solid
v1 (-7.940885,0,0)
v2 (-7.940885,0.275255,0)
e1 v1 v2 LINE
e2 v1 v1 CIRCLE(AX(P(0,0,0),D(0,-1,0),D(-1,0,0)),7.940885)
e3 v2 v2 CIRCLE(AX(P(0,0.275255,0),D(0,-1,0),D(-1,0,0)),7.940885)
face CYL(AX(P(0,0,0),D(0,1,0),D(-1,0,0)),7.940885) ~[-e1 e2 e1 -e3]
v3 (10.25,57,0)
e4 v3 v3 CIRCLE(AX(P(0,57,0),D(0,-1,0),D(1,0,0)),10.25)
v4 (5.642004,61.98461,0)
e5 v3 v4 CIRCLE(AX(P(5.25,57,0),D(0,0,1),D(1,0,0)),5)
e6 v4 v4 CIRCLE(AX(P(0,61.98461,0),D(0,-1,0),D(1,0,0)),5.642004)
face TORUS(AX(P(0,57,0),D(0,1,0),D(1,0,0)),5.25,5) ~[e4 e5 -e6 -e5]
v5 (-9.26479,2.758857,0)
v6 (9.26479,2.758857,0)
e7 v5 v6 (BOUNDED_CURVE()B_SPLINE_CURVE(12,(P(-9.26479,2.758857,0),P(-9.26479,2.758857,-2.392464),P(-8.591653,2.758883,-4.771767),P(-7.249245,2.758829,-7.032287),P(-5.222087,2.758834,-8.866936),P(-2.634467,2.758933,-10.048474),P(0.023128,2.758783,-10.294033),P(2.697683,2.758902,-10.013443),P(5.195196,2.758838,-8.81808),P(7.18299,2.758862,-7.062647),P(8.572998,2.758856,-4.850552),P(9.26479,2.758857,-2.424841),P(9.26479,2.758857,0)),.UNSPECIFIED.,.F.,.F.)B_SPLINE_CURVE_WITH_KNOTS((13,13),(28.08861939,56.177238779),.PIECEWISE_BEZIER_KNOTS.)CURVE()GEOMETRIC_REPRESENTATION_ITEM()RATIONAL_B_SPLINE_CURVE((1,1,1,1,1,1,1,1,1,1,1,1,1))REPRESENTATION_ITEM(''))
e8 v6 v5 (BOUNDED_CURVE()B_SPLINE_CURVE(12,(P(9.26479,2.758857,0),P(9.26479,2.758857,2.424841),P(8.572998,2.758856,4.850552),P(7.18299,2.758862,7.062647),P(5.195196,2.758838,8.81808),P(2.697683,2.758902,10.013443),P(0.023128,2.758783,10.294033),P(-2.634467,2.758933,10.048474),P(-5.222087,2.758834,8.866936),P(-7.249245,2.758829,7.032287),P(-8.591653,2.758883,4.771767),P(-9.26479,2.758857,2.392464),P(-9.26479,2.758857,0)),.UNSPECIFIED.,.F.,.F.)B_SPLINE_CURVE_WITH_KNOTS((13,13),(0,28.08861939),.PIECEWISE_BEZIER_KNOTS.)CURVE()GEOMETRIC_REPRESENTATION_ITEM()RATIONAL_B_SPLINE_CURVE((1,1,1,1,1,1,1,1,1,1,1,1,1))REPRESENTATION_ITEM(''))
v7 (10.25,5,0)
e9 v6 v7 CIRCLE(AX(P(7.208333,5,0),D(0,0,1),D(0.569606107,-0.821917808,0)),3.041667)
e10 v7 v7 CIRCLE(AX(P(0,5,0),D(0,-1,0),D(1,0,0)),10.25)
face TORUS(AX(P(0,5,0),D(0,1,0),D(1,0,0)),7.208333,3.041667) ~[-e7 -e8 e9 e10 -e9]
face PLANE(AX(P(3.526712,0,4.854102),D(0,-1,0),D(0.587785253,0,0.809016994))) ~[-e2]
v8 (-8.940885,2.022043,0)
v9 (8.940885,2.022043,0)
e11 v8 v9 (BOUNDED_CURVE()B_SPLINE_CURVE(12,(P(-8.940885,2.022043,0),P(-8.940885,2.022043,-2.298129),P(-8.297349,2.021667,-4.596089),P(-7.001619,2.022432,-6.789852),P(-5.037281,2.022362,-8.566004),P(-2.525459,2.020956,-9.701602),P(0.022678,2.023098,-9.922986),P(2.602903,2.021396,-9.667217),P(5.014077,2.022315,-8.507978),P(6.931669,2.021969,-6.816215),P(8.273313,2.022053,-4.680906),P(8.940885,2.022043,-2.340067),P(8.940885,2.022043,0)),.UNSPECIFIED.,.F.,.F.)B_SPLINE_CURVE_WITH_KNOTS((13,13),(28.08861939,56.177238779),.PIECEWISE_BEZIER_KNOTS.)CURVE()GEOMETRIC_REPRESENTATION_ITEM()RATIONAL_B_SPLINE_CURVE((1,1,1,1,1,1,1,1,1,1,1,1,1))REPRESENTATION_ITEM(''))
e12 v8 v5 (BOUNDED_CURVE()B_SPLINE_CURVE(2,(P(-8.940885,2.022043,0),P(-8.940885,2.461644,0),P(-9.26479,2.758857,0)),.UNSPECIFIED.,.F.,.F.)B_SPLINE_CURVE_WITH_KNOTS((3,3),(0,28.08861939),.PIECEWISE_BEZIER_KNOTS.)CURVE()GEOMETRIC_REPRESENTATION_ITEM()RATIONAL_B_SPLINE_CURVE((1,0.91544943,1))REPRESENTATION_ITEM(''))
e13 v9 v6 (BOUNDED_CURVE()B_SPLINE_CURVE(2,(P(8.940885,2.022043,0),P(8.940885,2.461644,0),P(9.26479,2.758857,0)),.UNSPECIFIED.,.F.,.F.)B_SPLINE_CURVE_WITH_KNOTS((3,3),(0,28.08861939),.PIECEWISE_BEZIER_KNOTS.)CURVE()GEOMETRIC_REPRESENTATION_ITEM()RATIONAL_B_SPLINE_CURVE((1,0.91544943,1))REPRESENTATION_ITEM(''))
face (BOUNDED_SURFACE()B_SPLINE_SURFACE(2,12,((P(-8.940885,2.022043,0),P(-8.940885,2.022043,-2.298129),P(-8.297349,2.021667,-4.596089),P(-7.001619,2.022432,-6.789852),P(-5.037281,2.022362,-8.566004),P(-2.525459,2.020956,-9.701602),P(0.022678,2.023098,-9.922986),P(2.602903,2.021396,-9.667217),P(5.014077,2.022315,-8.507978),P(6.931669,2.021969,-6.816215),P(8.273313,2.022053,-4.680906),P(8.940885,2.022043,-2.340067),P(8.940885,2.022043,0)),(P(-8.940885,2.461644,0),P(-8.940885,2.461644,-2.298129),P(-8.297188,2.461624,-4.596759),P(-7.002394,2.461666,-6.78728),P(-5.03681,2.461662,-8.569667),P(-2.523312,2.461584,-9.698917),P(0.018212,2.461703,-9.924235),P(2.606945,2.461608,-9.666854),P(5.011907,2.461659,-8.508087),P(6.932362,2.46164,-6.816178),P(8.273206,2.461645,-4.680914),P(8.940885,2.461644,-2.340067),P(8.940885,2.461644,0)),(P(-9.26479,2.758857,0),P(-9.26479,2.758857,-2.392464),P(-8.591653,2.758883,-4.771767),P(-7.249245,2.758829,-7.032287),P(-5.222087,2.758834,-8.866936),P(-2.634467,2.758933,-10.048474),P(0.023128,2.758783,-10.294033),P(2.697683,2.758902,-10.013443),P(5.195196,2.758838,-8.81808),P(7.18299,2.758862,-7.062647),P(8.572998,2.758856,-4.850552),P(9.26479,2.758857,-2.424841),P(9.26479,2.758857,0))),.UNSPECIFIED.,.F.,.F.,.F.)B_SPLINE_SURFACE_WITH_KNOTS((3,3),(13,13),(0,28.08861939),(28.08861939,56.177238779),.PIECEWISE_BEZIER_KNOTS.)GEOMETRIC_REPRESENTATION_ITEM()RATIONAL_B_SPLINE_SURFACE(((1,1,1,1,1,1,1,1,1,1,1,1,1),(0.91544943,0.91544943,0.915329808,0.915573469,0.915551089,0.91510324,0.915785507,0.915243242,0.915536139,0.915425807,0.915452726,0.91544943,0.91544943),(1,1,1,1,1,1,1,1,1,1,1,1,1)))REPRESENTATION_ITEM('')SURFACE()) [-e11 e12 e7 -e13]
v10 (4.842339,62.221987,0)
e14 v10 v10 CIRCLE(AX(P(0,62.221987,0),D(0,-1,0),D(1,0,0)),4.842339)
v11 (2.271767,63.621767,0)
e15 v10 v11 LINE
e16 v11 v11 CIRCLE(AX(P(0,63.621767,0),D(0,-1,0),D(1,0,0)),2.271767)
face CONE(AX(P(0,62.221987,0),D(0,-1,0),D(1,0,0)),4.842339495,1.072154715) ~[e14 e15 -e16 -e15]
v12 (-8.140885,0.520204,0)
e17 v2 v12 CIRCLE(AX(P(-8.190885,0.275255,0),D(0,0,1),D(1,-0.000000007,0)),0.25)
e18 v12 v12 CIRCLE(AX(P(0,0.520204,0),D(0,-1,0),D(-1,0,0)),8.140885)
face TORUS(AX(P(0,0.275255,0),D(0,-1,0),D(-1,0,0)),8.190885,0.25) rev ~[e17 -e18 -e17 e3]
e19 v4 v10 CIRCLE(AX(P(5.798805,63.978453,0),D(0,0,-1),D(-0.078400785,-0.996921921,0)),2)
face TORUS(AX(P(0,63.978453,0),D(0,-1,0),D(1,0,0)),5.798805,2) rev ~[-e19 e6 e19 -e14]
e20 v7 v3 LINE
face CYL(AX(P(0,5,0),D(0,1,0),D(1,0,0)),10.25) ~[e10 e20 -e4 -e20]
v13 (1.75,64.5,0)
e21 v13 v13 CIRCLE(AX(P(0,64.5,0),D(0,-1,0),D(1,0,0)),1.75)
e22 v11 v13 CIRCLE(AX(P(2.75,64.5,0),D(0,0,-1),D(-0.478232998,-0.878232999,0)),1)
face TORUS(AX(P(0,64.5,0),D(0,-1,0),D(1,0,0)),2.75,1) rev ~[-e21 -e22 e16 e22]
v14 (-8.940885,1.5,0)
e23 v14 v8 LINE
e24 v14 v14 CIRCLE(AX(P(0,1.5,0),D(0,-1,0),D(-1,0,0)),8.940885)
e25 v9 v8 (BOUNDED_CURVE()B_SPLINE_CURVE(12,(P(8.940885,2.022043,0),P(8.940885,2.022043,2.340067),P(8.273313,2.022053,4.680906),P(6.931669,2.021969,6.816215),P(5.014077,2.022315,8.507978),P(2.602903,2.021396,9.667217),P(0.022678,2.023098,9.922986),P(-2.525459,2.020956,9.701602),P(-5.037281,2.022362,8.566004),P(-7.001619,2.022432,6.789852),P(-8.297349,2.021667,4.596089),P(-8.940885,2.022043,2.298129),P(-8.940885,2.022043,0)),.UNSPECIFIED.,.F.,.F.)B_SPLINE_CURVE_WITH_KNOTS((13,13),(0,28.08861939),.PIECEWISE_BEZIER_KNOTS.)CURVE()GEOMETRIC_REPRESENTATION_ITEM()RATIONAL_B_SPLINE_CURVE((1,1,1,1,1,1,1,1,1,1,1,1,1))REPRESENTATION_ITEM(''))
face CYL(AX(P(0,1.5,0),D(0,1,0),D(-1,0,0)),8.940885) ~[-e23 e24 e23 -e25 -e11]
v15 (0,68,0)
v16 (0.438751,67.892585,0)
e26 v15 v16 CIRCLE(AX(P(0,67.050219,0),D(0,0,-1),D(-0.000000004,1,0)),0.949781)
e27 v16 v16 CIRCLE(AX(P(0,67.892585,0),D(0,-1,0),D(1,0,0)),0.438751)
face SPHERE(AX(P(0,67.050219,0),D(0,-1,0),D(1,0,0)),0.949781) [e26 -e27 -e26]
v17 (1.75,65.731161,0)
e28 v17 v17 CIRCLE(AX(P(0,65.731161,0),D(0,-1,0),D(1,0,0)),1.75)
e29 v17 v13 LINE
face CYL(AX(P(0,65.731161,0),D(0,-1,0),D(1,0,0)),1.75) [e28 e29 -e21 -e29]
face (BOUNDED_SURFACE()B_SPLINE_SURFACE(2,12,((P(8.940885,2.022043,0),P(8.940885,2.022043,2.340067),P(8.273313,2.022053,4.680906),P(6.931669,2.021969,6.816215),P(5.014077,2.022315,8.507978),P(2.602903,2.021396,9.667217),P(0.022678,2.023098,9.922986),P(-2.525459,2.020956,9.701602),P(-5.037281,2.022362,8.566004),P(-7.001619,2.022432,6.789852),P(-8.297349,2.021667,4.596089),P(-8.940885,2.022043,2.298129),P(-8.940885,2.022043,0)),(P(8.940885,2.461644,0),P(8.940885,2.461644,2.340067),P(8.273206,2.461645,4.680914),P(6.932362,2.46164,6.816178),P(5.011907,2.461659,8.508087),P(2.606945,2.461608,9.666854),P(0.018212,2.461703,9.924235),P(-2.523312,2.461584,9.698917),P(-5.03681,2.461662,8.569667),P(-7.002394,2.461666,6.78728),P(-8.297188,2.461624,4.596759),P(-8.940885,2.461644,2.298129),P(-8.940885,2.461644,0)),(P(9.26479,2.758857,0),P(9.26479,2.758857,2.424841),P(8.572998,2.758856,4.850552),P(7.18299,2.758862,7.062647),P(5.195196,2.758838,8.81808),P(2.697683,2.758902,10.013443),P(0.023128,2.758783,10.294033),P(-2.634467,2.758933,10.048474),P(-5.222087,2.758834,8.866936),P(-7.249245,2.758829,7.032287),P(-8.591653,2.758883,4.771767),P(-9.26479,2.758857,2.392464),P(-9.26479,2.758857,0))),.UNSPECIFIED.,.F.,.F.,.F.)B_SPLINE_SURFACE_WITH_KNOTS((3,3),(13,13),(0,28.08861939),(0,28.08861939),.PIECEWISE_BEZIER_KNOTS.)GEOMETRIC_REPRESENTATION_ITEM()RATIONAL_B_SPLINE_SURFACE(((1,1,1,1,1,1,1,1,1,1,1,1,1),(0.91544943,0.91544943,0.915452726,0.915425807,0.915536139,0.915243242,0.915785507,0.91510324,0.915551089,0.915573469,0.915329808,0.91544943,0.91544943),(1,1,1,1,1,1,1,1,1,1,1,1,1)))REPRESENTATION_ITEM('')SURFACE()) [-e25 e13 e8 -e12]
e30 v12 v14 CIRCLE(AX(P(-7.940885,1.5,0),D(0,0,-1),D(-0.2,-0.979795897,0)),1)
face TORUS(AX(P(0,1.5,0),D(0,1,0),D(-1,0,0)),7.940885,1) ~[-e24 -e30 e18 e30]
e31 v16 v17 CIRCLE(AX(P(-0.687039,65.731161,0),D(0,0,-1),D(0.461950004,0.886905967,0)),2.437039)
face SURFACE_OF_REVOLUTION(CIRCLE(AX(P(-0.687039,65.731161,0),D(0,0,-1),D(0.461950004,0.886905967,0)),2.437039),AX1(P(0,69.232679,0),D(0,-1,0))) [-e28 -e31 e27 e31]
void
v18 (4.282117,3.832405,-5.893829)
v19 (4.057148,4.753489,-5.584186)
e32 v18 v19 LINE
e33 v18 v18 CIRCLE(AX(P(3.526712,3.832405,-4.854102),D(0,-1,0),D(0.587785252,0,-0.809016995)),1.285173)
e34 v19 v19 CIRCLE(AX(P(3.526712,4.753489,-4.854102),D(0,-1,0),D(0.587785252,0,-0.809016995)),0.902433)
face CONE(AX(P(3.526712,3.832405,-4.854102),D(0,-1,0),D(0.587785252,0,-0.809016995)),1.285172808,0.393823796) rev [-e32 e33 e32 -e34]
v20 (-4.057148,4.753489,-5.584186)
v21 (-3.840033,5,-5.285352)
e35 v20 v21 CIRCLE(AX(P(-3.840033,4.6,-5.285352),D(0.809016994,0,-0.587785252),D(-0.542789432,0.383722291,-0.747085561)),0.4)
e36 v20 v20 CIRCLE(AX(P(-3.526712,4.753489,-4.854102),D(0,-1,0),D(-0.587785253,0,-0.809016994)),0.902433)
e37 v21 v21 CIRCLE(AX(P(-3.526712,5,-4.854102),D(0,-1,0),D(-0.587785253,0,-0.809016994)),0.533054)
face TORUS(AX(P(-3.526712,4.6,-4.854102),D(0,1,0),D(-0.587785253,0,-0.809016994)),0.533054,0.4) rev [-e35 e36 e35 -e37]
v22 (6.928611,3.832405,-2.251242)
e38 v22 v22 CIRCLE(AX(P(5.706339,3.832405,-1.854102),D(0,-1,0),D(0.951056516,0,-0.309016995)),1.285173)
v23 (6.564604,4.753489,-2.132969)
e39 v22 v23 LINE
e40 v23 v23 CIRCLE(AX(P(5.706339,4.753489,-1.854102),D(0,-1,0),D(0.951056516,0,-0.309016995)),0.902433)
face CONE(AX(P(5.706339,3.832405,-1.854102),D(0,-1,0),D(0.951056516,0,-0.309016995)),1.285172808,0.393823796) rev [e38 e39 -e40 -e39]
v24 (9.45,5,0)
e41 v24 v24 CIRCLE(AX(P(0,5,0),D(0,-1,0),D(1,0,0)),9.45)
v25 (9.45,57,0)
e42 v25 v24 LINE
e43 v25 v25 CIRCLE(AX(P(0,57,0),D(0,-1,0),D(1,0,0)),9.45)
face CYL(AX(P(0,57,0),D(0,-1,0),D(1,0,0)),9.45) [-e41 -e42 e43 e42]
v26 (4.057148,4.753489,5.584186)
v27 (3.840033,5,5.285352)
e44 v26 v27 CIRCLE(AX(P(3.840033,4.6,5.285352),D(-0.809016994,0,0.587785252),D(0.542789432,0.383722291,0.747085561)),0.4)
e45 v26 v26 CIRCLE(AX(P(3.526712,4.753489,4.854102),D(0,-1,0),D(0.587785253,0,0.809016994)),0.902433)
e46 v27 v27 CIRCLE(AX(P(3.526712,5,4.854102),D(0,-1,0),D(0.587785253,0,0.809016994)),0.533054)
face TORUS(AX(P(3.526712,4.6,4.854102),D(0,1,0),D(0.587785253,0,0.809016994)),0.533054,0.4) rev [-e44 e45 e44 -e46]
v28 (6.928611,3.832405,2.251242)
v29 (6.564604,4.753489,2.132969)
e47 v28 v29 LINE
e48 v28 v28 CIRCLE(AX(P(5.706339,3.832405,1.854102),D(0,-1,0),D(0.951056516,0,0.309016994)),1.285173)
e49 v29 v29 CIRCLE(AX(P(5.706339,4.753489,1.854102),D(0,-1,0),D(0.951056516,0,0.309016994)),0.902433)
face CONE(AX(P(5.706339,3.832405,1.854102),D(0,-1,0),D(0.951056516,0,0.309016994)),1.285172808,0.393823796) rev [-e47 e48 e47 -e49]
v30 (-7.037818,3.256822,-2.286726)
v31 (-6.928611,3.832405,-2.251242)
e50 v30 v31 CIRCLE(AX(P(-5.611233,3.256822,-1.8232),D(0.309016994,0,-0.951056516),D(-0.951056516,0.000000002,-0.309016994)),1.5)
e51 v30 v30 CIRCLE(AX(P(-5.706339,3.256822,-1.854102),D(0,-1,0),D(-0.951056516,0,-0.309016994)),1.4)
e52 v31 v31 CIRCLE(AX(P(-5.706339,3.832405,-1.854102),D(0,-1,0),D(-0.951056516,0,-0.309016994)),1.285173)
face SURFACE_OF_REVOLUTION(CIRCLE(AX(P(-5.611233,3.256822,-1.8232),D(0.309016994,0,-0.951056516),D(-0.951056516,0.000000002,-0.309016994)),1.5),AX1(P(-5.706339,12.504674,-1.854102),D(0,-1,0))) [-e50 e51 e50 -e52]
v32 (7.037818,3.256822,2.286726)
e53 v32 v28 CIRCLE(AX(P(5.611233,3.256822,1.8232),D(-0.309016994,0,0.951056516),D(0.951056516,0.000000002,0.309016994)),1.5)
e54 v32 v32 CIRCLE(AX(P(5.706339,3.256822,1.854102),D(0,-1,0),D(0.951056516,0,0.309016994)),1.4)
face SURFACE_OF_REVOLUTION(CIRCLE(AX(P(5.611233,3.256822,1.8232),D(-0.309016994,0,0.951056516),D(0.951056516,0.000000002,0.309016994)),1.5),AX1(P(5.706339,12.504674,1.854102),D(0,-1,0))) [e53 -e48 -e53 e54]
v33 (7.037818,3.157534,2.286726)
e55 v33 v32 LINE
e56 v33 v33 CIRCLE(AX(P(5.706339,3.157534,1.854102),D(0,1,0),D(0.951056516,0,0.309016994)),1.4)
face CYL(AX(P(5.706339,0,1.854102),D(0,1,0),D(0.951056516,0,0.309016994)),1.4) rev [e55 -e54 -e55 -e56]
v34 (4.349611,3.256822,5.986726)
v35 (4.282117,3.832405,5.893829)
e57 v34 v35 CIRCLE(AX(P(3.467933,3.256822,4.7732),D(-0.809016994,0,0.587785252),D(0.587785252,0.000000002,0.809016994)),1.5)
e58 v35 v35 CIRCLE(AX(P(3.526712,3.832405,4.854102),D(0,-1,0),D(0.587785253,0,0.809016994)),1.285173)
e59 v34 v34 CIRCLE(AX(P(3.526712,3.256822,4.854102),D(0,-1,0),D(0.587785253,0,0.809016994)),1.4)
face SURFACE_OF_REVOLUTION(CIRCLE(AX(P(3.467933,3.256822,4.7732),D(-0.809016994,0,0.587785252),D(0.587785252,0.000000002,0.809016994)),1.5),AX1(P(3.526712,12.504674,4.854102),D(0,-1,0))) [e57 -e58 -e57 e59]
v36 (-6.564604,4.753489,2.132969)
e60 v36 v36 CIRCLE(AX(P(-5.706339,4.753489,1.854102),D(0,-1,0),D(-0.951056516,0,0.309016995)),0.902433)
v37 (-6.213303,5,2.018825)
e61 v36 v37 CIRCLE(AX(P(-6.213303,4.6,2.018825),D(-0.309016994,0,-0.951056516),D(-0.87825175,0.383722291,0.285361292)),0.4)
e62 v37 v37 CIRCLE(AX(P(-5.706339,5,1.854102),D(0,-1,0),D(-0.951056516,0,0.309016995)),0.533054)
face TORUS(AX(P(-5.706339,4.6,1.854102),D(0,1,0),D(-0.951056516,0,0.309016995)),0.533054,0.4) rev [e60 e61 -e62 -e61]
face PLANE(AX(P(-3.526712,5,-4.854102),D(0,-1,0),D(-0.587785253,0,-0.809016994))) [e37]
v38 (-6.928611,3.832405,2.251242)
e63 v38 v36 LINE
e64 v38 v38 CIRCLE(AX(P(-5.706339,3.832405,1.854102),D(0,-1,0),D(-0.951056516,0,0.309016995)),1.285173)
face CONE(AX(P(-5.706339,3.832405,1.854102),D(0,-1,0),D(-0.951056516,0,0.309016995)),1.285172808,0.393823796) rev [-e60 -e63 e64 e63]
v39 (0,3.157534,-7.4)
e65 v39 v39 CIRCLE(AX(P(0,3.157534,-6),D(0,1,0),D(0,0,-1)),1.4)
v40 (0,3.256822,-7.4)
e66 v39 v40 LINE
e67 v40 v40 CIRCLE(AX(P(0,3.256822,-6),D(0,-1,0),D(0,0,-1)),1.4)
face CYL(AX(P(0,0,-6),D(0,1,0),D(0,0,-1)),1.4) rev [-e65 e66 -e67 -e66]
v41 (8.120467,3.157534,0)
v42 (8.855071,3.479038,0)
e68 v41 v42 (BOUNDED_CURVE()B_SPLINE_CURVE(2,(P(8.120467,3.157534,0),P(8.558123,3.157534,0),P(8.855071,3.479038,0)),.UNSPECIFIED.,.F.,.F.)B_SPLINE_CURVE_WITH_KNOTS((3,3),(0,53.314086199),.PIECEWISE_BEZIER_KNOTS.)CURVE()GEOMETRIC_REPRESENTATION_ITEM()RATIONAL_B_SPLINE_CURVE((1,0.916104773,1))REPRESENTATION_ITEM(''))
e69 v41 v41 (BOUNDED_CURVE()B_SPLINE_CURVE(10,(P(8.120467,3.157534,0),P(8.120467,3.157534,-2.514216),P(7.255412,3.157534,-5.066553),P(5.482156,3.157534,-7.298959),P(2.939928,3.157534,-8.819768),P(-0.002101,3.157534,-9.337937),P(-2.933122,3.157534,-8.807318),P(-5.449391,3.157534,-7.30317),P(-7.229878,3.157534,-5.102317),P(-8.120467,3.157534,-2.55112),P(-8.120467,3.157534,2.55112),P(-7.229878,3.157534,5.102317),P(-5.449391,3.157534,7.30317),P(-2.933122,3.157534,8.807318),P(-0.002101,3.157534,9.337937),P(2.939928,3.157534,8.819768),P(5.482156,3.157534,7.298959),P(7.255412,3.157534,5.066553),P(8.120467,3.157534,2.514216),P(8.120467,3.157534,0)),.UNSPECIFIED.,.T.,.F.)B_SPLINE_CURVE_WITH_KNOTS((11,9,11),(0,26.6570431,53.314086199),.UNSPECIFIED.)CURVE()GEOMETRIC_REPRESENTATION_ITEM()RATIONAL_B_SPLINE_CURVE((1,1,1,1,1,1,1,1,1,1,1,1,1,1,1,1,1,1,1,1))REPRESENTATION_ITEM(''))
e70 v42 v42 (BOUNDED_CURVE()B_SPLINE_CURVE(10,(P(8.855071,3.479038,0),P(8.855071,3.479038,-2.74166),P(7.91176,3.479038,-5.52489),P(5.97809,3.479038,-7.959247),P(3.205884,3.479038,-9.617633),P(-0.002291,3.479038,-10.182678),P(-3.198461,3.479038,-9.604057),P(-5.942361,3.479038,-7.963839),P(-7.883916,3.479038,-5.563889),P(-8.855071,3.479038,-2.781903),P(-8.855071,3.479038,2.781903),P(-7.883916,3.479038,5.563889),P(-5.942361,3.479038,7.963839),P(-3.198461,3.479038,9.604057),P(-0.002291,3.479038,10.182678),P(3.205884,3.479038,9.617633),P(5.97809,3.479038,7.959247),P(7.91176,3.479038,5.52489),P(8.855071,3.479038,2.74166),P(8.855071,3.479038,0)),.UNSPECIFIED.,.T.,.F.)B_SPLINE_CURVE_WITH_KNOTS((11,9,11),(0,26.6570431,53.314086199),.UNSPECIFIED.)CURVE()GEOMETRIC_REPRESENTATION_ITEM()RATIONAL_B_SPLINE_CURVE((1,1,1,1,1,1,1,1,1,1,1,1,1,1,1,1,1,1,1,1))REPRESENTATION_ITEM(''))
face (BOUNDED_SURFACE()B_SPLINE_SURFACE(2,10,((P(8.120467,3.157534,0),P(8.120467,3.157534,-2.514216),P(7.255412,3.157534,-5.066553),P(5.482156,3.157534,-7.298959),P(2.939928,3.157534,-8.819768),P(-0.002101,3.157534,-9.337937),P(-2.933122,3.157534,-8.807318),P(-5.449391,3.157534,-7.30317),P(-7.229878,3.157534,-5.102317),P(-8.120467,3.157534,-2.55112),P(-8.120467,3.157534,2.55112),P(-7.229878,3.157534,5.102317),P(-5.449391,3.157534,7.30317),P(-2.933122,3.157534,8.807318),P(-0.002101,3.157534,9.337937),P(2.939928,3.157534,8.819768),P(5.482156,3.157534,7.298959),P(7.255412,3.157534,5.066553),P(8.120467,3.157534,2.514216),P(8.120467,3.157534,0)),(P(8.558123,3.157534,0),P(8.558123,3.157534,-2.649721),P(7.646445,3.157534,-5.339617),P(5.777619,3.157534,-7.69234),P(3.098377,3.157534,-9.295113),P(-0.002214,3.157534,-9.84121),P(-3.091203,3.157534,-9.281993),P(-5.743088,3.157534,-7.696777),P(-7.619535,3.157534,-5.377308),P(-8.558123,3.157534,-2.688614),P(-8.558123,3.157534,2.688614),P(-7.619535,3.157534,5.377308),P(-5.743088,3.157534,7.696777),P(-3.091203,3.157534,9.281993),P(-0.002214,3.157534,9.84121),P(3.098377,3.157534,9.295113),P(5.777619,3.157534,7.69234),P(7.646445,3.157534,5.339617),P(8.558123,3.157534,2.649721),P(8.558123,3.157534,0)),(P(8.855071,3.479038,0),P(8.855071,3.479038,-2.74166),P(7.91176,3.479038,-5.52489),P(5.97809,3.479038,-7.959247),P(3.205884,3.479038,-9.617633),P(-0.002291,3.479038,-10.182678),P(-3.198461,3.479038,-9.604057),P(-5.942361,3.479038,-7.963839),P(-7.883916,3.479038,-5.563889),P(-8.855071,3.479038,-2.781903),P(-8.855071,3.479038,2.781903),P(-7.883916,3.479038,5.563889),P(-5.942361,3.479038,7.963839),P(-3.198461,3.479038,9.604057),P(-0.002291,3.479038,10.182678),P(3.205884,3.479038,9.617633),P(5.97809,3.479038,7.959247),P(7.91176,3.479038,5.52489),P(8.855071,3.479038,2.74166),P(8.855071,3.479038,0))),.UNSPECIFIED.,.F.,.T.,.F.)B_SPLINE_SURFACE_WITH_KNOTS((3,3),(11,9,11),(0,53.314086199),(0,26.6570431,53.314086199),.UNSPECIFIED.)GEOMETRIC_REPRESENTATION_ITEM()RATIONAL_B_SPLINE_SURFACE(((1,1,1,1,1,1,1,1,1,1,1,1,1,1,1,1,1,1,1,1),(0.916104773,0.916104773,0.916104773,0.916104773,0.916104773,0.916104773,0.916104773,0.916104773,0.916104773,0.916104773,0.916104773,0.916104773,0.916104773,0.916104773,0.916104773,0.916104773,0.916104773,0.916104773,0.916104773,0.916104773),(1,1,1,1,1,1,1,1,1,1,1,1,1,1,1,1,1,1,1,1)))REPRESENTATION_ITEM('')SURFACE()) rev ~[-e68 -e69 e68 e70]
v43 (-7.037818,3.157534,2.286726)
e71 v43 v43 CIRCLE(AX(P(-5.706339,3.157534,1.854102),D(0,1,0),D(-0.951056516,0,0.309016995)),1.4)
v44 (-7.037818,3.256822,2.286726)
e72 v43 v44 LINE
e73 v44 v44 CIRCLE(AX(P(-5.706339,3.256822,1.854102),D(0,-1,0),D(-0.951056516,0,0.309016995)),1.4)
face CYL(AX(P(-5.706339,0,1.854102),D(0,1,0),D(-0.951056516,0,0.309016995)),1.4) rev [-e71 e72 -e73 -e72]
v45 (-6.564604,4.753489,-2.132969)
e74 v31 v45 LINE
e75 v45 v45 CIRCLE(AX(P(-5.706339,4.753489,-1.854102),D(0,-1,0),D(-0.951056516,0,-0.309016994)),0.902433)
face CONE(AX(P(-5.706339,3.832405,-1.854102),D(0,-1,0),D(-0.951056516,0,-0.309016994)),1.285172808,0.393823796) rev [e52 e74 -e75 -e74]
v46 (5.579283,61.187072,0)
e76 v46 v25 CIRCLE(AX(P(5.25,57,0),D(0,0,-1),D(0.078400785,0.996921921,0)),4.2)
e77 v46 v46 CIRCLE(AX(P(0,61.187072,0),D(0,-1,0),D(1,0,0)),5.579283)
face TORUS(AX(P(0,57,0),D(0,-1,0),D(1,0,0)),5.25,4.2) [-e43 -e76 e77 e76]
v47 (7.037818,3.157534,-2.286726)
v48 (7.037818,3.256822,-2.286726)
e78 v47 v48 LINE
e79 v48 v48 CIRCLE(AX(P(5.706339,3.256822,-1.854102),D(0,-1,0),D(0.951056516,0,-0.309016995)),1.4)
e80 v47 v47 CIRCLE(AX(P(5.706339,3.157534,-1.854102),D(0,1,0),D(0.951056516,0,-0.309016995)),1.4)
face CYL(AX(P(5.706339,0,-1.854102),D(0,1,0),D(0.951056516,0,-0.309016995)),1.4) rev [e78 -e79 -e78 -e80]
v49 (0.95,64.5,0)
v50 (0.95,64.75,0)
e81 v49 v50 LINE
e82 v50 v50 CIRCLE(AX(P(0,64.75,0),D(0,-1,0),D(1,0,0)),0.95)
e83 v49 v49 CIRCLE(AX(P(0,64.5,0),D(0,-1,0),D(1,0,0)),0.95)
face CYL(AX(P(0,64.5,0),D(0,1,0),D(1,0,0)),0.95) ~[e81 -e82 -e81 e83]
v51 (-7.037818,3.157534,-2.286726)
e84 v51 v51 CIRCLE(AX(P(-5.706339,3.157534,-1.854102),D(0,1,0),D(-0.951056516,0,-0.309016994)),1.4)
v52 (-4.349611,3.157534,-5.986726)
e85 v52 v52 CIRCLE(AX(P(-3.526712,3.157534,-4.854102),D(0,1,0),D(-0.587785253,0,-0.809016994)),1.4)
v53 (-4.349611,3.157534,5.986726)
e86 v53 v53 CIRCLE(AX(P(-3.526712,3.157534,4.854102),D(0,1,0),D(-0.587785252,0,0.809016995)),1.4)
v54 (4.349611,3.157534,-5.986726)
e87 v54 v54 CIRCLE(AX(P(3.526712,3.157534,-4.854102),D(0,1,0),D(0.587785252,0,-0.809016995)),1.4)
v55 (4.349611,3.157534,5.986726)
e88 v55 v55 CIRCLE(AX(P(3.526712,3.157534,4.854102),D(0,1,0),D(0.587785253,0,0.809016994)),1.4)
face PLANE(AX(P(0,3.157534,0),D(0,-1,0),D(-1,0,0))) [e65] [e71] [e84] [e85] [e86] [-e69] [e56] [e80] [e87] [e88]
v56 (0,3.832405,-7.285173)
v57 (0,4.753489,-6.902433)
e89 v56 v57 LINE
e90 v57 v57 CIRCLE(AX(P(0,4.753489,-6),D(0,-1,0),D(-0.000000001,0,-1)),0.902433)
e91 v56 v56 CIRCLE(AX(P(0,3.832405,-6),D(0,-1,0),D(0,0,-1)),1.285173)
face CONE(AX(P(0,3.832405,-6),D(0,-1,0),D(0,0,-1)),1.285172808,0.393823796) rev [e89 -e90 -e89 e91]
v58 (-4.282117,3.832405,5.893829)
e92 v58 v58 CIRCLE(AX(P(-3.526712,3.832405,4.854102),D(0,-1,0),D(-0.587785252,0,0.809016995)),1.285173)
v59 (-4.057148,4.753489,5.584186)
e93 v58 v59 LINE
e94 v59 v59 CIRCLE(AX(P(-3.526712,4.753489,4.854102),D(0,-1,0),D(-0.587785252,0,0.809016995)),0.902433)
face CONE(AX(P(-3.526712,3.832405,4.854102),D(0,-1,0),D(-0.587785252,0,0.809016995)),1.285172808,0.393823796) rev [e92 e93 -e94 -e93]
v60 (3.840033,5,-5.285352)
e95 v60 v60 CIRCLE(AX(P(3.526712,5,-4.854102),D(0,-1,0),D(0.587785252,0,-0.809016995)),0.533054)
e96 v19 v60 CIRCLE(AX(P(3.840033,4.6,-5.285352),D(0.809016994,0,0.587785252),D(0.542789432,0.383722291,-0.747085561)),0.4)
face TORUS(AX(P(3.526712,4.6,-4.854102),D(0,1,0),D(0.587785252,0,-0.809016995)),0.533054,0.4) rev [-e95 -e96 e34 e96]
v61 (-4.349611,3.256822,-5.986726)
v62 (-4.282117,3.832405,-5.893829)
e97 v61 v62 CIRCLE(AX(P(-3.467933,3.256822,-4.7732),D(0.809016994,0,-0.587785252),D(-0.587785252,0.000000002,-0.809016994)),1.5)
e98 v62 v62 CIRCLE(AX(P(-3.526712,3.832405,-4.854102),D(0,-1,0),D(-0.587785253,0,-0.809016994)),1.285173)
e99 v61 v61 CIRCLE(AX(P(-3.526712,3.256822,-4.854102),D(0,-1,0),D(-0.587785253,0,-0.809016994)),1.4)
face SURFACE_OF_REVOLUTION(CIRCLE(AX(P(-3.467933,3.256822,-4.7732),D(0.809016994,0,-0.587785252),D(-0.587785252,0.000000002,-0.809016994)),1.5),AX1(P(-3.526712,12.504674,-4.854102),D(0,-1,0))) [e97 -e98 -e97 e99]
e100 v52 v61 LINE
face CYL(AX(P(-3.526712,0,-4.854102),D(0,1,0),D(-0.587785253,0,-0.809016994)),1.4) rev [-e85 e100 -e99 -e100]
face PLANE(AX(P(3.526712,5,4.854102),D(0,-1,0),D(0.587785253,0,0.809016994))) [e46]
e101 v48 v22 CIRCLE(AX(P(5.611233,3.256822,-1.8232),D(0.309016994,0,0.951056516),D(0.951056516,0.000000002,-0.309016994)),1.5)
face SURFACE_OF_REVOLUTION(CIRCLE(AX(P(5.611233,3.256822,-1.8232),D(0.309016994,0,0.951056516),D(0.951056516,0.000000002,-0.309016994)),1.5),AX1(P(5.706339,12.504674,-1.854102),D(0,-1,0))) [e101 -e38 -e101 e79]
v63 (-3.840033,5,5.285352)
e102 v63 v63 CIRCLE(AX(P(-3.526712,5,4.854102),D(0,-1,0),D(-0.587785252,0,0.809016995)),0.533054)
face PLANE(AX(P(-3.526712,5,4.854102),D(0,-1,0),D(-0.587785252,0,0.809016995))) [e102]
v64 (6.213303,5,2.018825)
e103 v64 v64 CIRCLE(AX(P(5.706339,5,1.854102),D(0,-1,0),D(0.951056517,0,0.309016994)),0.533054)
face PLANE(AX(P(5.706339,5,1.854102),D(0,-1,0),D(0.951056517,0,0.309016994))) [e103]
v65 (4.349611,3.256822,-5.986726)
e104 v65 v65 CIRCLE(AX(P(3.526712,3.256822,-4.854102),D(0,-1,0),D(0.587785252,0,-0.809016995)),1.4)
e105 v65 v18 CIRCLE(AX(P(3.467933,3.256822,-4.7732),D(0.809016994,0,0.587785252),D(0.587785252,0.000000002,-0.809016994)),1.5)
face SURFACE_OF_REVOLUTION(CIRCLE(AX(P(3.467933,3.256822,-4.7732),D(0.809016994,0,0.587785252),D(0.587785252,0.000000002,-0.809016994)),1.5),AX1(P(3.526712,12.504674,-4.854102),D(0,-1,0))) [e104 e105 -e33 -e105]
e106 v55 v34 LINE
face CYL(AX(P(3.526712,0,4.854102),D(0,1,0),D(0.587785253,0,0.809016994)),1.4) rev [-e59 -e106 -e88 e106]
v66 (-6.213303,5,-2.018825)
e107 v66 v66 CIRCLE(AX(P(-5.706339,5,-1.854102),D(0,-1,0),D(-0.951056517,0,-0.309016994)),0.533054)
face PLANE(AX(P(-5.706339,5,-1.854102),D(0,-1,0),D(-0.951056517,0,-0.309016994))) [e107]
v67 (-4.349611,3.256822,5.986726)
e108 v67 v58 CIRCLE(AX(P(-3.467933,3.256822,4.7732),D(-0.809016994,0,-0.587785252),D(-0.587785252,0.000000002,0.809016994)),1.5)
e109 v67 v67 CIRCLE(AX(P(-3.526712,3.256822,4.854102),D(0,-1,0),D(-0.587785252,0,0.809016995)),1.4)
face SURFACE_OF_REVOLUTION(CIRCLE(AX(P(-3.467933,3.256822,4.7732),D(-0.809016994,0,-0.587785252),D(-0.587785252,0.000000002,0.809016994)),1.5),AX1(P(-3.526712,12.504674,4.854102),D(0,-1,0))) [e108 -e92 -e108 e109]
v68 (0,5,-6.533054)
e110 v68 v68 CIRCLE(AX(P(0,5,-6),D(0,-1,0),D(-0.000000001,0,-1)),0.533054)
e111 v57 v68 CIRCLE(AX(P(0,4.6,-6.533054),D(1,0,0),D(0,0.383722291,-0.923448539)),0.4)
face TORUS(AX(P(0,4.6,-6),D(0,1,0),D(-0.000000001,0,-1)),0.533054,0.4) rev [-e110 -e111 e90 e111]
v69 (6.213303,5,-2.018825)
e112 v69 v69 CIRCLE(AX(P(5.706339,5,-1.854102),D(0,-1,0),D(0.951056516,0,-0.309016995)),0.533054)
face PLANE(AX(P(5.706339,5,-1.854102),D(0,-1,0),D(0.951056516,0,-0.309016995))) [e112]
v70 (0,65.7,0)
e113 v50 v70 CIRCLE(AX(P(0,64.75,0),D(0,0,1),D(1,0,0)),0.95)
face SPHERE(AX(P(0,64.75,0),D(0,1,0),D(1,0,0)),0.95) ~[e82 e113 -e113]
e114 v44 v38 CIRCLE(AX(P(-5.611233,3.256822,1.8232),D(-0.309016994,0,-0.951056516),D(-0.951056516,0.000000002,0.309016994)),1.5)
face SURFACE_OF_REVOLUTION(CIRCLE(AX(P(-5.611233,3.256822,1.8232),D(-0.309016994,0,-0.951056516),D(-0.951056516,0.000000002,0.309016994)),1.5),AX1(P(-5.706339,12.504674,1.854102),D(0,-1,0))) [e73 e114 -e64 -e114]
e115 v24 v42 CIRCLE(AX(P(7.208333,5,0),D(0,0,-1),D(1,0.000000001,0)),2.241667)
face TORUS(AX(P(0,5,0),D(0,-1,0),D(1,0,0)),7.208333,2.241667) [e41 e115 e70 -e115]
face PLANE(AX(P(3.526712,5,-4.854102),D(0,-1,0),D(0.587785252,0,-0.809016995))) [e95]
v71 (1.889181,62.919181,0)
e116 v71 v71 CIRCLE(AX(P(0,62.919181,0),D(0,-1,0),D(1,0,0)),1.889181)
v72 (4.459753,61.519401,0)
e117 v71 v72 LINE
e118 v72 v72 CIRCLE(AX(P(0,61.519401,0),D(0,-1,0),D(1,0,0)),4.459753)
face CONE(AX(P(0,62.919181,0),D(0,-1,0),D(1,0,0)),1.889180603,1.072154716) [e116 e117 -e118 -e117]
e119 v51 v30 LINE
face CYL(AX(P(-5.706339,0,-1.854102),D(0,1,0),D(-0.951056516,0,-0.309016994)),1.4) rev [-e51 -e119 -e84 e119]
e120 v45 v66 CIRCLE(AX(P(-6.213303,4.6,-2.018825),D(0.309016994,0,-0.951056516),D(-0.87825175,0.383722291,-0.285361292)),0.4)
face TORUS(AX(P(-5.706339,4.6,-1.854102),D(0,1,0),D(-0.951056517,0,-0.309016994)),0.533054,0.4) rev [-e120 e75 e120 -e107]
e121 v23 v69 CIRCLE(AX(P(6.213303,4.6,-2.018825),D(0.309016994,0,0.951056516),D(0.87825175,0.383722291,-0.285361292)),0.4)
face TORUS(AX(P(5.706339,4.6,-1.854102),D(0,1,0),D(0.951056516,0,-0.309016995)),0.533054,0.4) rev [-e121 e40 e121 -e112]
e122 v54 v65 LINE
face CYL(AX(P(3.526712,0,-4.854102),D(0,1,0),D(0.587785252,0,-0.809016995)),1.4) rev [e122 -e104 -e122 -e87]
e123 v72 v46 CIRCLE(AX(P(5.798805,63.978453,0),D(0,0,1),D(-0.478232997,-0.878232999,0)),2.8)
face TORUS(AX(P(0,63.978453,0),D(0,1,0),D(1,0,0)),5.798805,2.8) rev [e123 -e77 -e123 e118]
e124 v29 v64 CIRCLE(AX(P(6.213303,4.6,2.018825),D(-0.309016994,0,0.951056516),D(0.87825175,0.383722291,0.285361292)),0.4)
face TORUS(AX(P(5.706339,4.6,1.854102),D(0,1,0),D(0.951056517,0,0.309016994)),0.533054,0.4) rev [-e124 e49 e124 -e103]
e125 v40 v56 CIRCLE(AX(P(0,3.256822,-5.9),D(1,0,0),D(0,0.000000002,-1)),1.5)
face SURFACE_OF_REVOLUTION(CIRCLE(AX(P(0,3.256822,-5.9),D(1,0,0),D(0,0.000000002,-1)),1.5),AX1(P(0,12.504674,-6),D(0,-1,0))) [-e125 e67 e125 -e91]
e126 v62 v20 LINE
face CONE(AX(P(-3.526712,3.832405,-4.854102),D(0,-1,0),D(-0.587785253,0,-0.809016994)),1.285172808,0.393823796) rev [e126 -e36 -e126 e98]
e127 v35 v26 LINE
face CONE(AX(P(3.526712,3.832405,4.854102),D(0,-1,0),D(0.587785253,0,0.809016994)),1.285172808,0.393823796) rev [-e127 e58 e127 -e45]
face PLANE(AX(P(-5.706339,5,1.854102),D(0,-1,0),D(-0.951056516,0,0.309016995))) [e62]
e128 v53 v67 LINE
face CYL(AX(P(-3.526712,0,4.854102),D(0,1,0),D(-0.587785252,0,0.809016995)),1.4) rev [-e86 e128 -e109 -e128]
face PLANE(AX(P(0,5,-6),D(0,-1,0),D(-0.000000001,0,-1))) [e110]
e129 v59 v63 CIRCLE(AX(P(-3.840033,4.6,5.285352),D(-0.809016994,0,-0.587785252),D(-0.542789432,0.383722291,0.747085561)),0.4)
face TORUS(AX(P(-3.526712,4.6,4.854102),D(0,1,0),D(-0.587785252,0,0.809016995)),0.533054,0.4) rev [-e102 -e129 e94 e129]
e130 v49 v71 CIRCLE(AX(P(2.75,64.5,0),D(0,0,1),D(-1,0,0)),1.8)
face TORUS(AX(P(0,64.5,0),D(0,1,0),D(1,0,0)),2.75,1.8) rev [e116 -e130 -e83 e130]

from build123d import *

# Parameters (mm, degrees)
FILLET1_R         = 1
FILLET2_R         = 1
CIRPATTERN1_COUNT = 9
CIRPATTERN1_ANGLE = 288


with BuildPart() as part:
    # Sketch1 → Revolve-Thin1 (revolve)
    with BuildSketch(Plane.XY):
        with BuildLine():
            ThreePointArc((8.940885241, 2.5), (9.902918783, 3.588991367), (10.25, 5))
            Line((10.25, 5), (10.25, 57))
            ThreePointArc((10.25, 57), (8.921513286, 60.394111105), (5.642003923, 61.984609606))
            ThreePointArc((5.642003923, 61.984609606), (5.229658561, 62.061144978), (4.842339495, 62.221987452))
            Line((4.842339495, 62.221987452), (2.271767002, 63.621767002))
            ThreePointArc((2.271767002, 63.621767002), (1.890281151, 63.98923244), (1.75, 64.5))
            Line((1.75, 64.5), (0.95, 64.5))
            ThreePointArc((0.95, 64.5), (1.202506072, 63.580618391), (1.889180603, 62.919180603))
            Line((1.889180603, 62.919180603), (4.459753097, 61.519401053))
            ThreePointArc((4.459753097, 61.519401053), (5.001999789, 61.29422159), (5.579283295, 61.187072069))
            ThreePointArc((5.579283295, 61.187072069), (8.33407116, 59.851053328), (9.45, 57))
            Line((9.45, 57), (9.45, 5))
            ThreePointArc((9.45, 5), (9.194205898, 3.960105966), (8.485200355, 3.157534247))
            Line((8.485200355, 3.157534247), (8.940885241, 2.5))
        make_face()
    revolve(axis=Axis((0, 93.537011177, 0), (0, -1, 0)))

    # Sketch2 → Revolve1 (revolve)
    with BuildSketch(Plane.XY):
        with BuildLine():
            Line((1.75, 64.5), (0.95, 64.5))
            Line((0.95, 64.5), (0.95, 64.75))
            ThreePointArc((0.95, 64.75), (0.671751442, 65.421751442), (0, 65.7))
            Line((0, 65.7), (0, 68))
            ThreePointArc((0, 68), (0.225854237, 67.972755613), (0.438751251, 67.892585457))
            ThreePointArc((0.438751251, 67.892585457), (1.396558109, 66.9951952), (1.75, 65.73116115))
            Line((1.75, 65.73116115), (1.75, 64.5))
        make_face()
    revolve(axis=Axis((0, 69.232678815, 0), (0, -1, 0)))

    # Sketch3 → Revolve2 (revolve)
    with BuildSketch(Plane.XY):
        with BuildLine():
            Line((-8.940885241, 2.5), (-8.485200355, 3.157534247))
            Line((-8.485200355, 3.157534247), (0, 3.157534247))
            Line((0, 3.157534247), (0, 0))
            Line((0, 0), (-7.940885241, 0))
            Line((-7.940885241, 0), (-7.940885241, 0.275255129))
            ThreePointArc((-7.940885241, 0.275255129), (-7.997236073, 0.433369012), (-8.140885241, 0.520204103))
            ThreePointArc((-8.140885241, 0.520204103), (-8.71548191, 0.867544468), (-8.940885241, 1.5))
            Line((-8.940885241, 1.5), (-8.940885241, 2.5))
        make_face()
    revolve(axis=Axis((0, 10.794798164, 0), (0, -1, 0)))

    # Fillet1
    fillet1_edges = [part.edges().sort_by_distance(p)[0] for p in [
        (0, 2.5, 8.940885241),
    ]]
    fillet(fillet1_edges, radius=FILLET1_R)

    # Fillet2
    fillet2_edges = [part.edges().sort_by_distance(p)[0] for p in [
        (-8.485200355, 3.157534247, 0),
    ]]
    fillet(fillet2_edges, radius=FILLET2_R)

    # Sketch4 → Revolve3 (revolve)
    with BuildSketch(Plane(origin=(0, 0, 0), x_dir=(0.587785252, 0, -0.809016994), z_dir=(0.809016994, 0, 0.587785252))):
        with BuildLine():
            Line((-6.533053794, 5), (-6, 5))
            Line((-6, 5), (-6, 0))
            Line((-6, 0), (-7.4, 0))
            Line((-7.4, 0), (-7.4, 3.256821844))
            ThreePointArc((-7.4, 3.256821844), (-7.371013122, 3.550284609), (-7.285172808, 3.832405281))
            Line((-7.285172808, 3.832405281), (-6.90243321, 4.753488916))
            ThreePointArc((-6.90243321, 4.753488916), (-6.755094819, 4.932712764), (-6.533053794, 5))
        make_face()
    revolve3 = revolve(axis=Axis((-3.526711514, 12.504674085, 4.854101966), (0, -1, 0)))

    # CirPattern1: Revolve3 ×9 about axis
    cirpattern1_axis = Axis((0, 0, 0), (0, -1, 0))
    for i in range(1, CIRPATTERN1_COUNT):
        add(revolve3.rotate(cirpattern1_axis, i * CIRPATTERN1_ANGLE / (CIRPATTERN1_COUNT - 1)))


solid = part.part
